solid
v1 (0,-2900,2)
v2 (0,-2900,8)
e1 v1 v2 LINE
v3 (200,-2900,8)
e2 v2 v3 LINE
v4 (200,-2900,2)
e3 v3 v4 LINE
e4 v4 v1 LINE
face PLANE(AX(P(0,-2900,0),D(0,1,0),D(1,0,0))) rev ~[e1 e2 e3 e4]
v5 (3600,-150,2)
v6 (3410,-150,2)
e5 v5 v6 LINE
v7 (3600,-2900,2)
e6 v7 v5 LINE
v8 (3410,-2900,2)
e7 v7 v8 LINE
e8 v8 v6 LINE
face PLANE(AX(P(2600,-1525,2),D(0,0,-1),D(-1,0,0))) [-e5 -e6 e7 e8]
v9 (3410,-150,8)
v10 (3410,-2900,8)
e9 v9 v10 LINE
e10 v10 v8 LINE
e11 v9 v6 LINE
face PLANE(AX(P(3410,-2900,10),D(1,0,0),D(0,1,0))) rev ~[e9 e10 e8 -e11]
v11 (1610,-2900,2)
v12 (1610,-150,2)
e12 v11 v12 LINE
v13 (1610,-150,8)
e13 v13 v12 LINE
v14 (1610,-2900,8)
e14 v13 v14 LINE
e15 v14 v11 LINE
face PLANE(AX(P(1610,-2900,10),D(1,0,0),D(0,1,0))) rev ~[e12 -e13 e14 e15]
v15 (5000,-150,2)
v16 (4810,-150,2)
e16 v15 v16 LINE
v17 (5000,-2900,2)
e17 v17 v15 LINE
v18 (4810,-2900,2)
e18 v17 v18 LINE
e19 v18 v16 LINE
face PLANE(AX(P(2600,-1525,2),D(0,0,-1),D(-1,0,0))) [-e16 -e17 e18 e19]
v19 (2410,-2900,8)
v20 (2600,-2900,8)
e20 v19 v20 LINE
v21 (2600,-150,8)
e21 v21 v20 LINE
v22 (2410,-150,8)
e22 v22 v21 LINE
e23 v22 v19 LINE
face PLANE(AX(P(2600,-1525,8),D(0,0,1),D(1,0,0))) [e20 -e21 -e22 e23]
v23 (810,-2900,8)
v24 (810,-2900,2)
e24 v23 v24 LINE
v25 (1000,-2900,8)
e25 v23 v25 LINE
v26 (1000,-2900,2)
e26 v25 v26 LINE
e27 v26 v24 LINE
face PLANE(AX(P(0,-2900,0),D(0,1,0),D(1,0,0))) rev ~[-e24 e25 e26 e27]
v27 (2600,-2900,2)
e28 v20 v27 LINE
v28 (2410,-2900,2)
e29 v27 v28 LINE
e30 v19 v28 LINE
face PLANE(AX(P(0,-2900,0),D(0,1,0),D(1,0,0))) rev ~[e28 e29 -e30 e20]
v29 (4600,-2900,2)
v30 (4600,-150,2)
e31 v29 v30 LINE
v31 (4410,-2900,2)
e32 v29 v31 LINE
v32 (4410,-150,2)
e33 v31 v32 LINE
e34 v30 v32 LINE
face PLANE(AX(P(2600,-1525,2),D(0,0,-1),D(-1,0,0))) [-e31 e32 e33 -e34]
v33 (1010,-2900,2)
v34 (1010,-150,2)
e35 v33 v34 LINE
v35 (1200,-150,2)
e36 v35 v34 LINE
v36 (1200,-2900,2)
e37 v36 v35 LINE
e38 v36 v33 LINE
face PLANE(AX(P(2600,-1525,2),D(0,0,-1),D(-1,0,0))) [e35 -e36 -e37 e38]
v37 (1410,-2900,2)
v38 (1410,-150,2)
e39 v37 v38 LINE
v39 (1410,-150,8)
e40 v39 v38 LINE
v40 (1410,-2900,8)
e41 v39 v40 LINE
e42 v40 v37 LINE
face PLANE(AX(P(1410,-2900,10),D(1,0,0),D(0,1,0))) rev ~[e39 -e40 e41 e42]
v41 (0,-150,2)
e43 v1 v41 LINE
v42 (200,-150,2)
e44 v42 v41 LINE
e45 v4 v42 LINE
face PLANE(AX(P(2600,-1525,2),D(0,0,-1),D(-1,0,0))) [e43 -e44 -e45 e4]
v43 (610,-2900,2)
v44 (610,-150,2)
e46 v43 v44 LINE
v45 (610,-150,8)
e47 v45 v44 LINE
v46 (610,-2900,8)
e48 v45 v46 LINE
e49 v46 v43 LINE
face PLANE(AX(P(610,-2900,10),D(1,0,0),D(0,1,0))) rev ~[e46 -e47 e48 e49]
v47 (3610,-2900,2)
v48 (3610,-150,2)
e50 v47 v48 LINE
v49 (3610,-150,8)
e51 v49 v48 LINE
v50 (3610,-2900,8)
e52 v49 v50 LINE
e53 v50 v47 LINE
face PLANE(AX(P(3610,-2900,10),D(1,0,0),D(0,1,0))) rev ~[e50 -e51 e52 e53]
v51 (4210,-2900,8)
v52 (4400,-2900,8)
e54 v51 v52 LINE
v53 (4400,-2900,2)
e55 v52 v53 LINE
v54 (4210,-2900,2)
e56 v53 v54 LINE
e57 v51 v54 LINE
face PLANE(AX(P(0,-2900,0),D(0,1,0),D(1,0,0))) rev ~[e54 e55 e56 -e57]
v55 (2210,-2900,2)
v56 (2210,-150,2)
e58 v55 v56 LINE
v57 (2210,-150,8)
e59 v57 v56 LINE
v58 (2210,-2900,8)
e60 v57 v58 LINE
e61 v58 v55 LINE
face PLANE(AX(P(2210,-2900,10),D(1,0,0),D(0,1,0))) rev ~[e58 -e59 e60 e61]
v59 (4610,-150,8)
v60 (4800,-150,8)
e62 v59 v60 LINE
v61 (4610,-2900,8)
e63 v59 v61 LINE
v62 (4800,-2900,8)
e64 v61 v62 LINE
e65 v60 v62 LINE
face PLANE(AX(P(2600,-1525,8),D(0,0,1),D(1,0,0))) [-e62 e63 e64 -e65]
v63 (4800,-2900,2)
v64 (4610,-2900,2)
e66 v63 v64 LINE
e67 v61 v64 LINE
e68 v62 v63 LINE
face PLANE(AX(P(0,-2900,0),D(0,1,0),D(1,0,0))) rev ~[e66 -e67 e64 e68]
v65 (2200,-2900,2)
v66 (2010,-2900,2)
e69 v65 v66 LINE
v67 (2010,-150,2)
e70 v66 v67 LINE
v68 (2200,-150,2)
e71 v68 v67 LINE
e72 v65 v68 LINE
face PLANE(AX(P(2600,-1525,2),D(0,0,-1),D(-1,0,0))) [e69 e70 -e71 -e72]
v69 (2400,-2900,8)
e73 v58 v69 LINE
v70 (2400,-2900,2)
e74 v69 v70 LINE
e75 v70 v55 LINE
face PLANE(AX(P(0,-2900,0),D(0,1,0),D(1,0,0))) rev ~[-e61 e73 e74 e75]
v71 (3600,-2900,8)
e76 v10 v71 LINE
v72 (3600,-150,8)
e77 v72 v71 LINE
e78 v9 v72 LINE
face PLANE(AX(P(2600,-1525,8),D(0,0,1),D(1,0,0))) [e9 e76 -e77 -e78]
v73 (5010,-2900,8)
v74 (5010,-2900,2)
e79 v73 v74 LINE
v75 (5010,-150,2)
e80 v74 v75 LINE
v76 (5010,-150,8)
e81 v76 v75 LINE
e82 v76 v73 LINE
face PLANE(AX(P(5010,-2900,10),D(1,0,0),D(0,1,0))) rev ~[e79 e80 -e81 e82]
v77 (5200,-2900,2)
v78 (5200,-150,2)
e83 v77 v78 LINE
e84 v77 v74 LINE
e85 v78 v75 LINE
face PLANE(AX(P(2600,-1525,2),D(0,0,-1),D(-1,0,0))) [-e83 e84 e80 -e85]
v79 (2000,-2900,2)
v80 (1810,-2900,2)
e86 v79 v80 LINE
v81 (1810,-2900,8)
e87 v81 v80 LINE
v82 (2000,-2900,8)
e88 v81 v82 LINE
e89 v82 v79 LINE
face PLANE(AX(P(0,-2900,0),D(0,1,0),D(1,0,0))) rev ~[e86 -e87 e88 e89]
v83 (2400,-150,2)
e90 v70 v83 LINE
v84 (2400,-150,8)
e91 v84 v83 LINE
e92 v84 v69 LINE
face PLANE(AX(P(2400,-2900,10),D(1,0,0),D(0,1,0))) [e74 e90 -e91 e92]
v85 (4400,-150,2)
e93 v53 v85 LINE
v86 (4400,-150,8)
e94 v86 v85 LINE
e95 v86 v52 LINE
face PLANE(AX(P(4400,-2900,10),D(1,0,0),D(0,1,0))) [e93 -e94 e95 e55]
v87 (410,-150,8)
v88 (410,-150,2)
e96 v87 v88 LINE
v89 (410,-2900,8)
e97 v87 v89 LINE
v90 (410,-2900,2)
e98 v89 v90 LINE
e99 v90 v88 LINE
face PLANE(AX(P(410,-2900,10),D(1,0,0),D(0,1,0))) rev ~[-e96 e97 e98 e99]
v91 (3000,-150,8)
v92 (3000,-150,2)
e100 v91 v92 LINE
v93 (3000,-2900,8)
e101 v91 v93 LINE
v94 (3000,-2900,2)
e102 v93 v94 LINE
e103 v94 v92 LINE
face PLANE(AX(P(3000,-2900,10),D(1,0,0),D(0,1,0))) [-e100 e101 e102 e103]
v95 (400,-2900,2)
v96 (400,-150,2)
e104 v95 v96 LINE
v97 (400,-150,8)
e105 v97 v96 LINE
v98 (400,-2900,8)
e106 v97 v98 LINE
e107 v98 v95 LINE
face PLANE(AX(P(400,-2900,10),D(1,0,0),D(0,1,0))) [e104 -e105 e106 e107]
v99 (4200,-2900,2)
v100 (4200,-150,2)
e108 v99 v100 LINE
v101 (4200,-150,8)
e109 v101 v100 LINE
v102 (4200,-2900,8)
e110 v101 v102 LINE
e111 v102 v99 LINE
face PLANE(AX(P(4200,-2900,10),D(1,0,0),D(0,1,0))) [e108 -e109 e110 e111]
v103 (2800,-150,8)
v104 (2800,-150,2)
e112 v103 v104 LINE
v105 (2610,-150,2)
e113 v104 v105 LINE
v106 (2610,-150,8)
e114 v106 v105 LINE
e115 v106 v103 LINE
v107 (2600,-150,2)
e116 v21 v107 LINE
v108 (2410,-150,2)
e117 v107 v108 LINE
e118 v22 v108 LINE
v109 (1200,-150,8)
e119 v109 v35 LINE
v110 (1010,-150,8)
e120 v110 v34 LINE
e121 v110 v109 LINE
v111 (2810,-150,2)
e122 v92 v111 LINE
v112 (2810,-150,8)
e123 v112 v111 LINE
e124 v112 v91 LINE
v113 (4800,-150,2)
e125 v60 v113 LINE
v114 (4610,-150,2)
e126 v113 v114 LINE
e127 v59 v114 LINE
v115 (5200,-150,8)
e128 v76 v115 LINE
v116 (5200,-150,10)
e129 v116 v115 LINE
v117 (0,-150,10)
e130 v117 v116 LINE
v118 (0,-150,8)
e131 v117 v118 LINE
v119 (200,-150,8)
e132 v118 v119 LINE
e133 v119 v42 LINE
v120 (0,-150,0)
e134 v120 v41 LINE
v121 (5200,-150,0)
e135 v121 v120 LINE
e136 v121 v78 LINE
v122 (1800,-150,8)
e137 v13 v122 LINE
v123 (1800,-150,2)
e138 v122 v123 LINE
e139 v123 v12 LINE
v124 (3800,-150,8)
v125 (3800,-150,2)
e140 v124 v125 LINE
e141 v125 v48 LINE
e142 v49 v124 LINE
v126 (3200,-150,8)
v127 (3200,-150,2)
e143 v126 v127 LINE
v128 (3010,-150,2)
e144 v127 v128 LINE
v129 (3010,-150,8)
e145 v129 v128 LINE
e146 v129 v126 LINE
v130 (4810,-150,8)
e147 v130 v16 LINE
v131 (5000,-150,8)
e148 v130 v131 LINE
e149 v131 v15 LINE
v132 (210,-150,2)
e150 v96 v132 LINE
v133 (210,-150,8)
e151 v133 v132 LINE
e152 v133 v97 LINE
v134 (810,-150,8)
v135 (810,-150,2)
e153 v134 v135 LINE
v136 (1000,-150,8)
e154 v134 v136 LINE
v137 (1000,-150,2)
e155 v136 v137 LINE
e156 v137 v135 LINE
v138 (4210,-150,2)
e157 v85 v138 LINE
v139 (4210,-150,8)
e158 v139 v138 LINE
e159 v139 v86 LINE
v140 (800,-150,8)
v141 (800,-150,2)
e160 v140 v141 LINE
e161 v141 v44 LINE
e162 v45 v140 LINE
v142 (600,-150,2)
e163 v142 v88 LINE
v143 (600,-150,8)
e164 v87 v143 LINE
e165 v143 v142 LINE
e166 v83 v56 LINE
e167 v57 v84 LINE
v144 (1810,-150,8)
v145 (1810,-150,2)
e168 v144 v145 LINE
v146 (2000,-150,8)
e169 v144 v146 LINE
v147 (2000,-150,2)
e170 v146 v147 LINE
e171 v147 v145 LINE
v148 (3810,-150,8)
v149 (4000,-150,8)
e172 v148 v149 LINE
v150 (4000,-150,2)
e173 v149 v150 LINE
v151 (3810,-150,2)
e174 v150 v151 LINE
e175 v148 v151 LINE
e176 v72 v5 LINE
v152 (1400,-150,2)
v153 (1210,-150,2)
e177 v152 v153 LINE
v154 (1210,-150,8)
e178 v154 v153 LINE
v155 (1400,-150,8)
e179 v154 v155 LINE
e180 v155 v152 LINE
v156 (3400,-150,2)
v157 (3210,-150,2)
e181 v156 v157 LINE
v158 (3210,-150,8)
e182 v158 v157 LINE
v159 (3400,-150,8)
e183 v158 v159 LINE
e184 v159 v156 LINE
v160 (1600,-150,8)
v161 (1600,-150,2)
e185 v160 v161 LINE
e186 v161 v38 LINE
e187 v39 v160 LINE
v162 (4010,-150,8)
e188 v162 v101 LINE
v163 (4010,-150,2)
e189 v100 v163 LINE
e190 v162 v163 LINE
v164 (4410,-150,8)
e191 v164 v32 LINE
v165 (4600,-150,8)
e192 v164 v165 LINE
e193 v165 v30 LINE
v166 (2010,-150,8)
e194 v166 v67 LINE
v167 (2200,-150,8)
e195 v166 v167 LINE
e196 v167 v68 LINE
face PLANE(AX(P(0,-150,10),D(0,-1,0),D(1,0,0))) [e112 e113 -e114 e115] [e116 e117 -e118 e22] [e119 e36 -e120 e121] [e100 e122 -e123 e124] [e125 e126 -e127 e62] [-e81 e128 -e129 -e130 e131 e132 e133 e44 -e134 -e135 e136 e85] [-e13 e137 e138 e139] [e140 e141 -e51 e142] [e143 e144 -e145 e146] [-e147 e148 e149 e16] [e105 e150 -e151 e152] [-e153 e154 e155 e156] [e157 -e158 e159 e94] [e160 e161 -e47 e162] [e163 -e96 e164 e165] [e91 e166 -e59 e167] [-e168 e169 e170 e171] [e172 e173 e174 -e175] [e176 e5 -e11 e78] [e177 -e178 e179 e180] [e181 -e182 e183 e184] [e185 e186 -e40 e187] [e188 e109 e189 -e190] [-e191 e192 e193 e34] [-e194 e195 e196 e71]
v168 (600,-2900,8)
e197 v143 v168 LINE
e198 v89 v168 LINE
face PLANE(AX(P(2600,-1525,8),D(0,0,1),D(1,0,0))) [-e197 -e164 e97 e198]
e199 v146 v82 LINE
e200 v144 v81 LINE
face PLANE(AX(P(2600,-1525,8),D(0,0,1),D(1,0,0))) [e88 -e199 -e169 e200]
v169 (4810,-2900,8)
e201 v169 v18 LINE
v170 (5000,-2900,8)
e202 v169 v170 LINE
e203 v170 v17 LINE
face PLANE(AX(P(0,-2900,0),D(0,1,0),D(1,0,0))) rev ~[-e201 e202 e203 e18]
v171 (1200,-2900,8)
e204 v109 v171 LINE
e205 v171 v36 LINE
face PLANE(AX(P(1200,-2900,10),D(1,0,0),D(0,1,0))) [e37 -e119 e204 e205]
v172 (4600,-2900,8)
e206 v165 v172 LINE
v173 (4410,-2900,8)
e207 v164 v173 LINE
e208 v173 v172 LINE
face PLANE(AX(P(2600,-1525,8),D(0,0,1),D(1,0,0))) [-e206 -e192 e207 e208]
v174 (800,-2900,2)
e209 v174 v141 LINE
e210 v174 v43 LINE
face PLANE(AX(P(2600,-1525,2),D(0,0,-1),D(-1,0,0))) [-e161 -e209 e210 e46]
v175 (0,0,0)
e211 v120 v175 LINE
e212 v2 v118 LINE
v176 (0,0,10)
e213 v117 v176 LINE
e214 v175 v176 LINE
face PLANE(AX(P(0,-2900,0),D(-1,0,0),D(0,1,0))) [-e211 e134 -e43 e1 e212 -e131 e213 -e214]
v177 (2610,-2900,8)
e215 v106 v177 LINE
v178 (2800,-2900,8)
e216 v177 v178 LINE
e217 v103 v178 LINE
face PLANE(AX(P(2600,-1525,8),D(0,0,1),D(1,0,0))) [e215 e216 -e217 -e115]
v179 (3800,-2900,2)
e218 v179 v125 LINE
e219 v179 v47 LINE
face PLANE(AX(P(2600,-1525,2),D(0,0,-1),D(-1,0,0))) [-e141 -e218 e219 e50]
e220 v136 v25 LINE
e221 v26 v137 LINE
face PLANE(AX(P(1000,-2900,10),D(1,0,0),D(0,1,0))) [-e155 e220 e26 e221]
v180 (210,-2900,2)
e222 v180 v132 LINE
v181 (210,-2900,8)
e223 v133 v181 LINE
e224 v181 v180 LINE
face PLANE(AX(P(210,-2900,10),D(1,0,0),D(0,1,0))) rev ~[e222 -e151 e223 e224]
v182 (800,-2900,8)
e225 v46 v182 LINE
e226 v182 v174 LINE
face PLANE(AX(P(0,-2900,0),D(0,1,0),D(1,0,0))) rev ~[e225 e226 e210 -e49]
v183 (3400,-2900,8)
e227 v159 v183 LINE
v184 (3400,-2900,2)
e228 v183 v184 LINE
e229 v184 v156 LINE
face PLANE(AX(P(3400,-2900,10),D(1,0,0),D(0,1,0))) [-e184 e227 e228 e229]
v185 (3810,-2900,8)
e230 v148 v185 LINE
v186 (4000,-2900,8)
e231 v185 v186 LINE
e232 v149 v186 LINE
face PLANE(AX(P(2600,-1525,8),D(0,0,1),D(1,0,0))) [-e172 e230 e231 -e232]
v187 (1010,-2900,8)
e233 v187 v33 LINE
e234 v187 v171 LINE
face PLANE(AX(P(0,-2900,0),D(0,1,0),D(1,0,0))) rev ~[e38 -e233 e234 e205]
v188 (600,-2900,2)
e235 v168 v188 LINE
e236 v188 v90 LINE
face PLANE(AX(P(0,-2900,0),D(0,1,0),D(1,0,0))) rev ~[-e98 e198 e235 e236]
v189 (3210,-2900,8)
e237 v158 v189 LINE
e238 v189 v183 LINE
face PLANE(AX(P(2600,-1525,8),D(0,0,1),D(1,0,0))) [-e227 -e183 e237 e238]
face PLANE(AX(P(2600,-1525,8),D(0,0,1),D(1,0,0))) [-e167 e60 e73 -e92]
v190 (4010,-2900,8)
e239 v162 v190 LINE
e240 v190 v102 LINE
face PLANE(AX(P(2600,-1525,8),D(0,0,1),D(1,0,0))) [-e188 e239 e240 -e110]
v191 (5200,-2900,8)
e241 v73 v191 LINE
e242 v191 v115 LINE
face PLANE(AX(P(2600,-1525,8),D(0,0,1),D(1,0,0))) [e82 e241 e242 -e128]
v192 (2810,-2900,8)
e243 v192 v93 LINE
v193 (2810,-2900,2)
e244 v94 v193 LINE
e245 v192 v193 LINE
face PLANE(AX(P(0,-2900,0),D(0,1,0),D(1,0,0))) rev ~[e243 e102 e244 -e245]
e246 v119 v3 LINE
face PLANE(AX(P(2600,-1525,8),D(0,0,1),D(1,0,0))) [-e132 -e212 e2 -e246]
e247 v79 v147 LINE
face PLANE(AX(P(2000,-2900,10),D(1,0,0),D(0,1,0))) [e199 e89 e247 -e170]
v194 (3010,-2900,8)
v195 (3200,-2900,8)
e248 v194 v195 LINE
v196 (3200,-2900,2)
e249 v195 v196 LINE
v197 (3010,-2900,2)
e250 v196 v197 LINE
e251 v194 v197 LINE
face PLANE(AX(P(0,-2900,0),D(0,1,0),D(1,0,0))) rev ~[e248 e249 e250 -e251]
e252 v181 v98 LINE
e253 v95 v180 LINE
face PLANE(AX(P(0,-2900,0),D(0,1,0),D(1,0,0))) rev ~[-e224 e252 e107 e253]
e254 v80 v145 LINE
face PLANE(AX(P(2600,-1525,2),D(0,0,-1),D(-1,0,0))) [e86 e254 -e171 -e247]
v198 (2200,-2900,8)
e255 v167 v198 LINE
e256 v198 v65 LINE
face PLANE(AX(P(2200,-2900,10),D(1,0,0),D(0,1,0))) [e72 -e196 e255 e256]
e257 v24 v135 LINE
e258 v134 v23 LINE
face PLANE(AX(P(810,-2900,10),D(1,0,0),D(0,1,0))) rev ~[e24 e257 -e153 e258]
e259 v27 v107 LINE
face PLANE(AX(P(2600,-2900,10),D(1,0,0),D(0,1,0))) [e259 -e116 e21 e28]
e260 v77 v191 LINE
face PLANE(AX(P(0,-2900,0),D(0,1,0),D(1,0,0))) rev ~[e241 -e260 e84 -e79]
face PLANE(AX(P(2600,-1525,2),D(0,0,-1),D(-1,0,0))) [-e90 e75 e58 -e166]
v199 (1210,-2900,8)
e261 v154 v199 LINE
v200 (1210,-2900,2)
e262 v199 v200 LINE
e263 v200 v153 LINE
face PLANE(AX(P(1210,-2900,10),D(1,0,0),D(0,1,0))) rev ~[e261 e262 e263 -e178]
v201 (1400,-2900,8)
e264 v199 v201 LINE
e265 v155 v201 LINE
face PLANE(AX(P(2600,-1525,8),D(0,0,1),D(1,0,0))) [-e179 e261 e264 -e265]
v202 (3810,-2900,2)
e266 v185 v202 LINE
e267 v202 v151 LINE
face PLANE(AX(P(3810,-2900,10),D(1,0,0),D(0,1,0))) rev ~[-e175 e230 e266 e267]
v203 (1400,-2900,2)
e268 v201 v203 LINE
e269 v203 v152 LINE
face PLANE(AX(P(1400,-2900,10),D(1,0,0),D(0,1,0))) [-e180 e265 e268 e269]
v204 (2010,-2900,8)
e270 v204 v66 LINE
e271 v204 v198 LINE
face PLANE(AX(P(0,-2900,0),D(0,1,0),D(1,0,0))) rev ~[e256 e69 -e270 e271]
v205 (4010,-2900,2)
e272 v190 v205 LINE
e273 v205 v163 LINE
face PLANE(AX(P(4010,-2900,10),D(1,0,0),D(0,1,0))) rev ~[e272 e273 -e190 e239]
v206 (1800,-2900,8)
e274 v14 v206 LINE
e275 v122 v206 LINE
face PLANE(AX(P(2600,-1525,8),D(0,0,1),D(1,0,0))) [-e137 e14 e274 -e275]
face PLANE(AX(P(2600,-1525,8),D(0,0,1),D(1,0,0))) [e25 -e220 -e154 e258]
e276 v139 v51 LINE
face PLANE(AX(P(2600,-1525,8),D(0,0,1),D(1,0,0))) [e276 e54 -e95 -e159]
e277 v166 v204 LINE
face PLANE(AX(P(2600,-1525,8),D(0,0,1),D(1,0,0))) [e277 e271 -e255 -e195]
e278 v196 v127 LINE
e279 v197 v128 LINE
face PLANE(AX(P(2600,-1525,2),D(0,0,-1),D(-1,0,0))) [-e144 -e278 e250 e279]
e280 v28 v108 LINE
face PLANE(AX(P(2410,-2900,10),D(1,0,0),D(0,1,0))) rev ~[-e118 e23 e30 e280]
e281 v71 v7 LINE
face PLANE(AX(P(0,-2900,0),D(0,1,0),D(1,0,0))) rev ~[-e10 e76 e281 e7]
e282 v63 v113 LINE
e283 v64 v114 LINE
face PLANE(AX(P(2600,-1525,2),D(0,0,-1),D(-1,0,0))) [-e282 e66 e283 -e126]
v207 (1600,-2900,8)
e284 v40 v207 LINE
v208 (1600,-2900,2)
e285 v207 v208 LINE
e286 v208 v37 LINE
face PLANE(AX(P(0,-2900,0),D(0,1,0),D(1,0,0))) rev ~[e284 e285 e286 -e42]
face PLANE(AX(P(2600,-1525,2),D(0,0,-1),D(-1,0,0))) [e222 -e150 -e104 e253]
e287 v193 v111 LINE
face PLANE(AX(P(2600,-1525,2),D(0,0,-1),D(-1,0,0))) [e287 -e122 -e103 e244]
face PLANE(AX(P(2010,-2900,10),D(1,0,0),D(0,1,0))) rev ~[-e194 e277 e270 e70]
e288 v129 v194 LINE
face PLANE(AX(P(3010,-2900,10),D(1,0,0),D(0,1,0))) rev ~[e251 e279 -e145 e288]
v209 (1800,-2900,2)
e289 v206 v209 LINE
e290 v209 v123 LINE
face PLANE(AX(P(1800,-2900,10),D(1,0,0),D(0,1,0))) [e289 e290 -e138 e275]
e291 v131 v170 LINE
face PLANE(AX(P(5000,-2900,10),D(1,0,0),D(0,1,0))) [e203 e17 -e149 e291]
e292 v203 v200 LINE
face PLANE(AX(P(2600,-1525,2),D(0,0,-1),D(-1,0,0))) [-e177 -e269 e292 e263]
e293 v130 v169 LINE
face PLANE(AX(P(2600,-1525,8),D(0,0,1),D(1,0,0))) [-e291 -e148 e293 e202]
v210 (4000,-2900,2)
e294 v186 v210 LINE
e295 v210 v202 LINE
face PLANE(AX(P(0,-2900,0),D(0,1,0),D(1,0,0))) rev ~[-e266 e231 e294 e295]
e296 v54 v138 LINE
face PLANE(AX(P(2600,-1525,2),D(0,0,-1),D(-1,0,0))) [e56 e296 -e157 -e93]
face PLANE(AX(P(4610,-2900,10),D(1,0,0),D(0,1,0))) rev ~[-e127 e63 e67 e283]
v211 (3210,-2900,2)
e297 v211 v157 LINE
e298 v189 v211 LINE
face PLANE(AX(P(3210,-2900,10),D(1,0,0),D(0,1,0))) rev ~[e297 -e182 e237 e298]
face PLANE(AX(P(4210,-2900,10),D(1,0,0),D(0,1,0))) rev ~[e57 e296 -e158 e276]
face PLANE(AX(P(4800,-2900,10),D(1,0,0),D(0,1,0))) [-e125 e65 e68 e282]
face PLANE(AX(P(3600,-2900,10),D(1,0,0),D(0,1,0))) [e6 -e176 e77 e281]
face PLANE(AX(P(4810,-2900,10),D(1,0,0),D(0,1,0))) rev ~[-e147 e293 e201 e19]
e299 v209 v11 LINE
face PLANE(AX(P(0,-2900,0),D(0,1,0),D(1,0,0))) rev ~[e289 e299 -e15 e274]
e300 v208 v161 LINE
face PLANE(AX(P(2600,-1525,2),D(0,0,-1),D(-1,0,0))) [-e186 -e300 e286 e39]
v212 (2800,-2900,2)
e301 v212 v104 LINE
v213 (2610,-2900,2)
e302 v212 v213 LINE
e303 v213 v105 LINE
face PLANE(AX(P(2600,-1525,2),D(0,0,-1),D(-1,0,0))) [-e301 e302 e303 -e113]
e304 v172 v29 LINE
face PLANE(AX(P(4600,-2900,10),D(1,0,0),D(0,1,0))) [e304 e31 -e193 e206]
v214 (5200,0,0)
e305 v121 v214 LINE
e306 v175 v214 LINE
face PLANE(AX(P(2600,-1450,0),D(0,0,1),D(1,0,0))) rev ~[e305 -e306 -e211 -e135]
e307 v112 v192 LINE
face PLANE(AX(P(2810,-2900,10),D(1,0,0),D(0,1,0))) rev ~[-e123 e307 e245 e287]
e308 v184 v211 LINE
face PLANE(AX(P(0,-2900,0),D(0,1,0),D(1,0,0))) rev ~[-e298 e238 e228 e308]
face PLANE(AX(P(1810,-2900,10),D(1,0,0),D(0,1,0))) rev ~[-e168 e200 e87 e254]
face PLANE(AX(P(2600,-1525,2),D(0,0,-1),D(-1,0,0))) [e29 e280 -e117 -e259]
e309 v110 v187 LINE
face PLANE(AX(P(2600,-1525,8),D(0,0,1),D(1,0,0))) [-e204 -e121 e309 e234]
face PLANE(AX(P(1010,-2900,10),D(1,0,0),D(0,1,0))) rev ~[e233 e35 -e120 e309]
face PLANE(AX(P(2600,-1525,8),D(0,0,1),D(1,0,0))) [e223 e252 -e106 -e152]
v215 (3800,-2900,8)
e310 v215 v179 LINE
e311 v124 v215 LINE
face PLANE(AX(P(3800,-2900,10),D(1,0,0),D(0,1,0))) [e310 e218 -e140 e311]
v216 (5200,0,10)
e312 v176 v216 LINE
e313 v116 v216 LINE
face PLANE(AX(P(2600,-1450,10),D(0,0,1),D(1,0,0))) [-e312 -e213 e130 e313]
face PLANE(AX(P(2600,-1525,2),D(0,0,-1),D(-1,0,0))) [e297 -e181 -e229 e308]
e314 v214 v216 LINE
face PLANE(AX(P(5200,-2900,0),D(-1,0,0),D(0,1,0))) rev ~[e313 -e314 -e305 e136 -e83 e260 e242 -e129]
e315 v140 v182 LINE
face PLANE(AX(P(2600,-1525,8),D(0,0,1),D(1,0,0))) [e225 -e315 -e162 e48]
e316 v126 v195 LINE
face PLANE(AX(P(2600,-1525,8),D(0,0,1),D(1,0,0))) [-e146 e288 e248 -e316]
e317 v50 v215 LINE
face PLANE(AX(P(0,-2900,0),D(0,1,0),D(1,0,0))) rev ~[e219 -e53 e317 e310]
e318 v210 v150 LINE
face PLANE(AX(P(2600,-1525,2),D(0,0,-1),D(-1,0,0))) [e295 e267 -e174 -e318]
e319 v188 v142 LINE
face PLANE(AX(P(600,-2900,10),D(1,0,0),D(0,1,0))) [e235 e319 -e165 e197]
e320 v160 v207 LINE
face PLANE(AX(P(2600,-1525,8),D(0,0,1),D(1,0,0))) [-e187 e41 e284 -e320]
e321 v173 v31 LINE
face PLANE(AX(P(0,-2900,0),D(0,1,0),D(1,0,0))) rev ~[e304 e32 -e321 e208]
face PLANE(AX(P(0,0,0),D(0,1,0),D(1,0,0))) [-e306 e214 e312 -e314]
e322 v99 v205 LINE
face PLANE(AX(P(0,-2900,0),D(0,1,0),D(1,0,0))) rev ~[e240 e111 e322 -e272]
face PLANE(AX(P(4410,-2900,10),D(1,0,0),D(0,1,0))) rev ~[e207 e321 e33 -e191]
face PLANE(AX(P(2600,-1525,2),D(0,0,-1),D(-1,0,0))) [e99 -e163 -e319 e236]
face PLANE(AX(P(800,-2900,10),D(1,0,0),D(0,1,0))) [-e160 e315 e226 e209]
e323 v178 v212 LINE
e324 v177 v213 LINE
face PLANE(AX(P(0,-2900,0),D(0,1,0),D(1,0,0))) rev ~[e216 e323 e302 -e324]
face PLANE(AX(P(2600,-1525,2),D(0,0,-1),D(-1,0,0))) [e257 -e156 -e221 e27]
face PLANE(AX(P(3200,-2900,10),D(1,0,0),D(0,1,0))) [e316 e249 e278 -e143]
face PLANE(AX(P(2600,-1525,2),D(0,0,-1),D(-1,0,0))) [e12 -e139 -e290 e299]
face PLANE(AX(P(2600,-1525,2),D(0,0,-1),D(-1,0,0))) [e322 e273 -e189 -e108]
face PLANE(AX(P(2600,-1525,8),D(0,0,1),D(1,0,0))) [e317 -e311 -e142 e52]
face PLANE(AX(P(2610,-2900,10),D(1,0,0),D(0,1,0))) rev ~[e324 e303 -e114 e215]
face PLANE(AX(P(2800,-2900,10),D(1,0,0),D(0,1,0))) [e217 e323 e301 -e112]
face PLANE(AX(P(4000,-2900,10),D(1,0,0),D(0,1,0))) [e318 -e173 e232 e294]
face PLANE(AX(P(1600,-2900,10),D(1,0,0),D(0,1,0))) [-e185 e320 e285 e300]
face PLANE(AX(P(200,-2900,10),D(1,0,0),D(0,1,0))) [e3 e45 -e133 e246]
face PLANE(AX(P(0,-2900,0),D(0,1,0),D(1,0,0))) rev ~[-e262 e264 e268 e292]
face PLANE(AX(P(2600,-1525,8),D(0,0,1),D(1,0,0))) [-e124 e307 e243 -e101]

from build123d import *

# Parameters (mm, degrees)
CROQUIS1_W              = 5200
CROQUIS1_H              = 2900
SALIENTE_EXTRUIR1_DEPTH = 10
CROQUIS2_W              = 10
CROQUIS2_H              = 2750
CORTAR_EXTRUIR1_DEPTH   = 10
MATRIZL1_COUNT          = 25
MATRIZL1_PITCH          = 200
CROQUIS4_W              = 5200
CROQUIS4_H              = 2750
CORTAR_EXTRUIR2_DEPTH   = 2
CROQUIS5_W              = 5200
CROQUIS5_H              = 2750
CORTAR_EXTRUIR3_DEPTH   = 2


with BuildPart() as part:
    # Croquis1 → Saliente-Extruir1 (new body)
    with BuildSketch(Plane.XY):
        with Locations((2600, -1450)):
            Rectangle(CROQUIS1_W, CROQUIS1_H)
    extrude(amount=SALIENTE_EXTRUIR1_DEPTH)

    # Croquis2 → Cortar-Extruir1 (cut)
    with BuildSketch(Plane.XY.offset(10)):
        with Locations((205, -1525)):
            Rectangle(CROQUIS2_W, CROQUIS2_H)
    cortar_extruir1 = extrude(amount=-CORTAR_EXTRUIR1_DEPTH, mode=Mode.SUBTRACT)

    # MatrizL1: Cortar-Extruir1 ×25
    with Locations(*[(i * MATRIZL1_PITCH, 0, 0) for i in range(1, MATRIZL1_COUNT)]):
        add(cortar_extruir1, mode=Mode.SUBTRACT)

    # Croquis4 → Cortar-Extruir2 (cut)
    with BuildSketch(Plane.XY.offset(10)):
        with Locations((2600, -1525)):
            Rectangle(CROQUIS4_W, CROQUIS4_H)
    extrude(amount=-CORTAR_EXTRUIR2_DEPTH, mode=Mode.SUBTRACT)

    # Croquis5 → Cortar-Extruir3 (cut)
    with BuildSketch(Plane(origin=(0, 0, 0), x_dir=(-1, 0, 0), z_dir=(0, 0, -1))):
        with Locations((-2600, -1525)):
            Rectangle(CROQUIS5_W, CROQUIS5_H)
    extrude(amount=-CORTAR_EXTRUIR3_DEPTH, mode=Mode.SUBTRACT)


solid = part.part
